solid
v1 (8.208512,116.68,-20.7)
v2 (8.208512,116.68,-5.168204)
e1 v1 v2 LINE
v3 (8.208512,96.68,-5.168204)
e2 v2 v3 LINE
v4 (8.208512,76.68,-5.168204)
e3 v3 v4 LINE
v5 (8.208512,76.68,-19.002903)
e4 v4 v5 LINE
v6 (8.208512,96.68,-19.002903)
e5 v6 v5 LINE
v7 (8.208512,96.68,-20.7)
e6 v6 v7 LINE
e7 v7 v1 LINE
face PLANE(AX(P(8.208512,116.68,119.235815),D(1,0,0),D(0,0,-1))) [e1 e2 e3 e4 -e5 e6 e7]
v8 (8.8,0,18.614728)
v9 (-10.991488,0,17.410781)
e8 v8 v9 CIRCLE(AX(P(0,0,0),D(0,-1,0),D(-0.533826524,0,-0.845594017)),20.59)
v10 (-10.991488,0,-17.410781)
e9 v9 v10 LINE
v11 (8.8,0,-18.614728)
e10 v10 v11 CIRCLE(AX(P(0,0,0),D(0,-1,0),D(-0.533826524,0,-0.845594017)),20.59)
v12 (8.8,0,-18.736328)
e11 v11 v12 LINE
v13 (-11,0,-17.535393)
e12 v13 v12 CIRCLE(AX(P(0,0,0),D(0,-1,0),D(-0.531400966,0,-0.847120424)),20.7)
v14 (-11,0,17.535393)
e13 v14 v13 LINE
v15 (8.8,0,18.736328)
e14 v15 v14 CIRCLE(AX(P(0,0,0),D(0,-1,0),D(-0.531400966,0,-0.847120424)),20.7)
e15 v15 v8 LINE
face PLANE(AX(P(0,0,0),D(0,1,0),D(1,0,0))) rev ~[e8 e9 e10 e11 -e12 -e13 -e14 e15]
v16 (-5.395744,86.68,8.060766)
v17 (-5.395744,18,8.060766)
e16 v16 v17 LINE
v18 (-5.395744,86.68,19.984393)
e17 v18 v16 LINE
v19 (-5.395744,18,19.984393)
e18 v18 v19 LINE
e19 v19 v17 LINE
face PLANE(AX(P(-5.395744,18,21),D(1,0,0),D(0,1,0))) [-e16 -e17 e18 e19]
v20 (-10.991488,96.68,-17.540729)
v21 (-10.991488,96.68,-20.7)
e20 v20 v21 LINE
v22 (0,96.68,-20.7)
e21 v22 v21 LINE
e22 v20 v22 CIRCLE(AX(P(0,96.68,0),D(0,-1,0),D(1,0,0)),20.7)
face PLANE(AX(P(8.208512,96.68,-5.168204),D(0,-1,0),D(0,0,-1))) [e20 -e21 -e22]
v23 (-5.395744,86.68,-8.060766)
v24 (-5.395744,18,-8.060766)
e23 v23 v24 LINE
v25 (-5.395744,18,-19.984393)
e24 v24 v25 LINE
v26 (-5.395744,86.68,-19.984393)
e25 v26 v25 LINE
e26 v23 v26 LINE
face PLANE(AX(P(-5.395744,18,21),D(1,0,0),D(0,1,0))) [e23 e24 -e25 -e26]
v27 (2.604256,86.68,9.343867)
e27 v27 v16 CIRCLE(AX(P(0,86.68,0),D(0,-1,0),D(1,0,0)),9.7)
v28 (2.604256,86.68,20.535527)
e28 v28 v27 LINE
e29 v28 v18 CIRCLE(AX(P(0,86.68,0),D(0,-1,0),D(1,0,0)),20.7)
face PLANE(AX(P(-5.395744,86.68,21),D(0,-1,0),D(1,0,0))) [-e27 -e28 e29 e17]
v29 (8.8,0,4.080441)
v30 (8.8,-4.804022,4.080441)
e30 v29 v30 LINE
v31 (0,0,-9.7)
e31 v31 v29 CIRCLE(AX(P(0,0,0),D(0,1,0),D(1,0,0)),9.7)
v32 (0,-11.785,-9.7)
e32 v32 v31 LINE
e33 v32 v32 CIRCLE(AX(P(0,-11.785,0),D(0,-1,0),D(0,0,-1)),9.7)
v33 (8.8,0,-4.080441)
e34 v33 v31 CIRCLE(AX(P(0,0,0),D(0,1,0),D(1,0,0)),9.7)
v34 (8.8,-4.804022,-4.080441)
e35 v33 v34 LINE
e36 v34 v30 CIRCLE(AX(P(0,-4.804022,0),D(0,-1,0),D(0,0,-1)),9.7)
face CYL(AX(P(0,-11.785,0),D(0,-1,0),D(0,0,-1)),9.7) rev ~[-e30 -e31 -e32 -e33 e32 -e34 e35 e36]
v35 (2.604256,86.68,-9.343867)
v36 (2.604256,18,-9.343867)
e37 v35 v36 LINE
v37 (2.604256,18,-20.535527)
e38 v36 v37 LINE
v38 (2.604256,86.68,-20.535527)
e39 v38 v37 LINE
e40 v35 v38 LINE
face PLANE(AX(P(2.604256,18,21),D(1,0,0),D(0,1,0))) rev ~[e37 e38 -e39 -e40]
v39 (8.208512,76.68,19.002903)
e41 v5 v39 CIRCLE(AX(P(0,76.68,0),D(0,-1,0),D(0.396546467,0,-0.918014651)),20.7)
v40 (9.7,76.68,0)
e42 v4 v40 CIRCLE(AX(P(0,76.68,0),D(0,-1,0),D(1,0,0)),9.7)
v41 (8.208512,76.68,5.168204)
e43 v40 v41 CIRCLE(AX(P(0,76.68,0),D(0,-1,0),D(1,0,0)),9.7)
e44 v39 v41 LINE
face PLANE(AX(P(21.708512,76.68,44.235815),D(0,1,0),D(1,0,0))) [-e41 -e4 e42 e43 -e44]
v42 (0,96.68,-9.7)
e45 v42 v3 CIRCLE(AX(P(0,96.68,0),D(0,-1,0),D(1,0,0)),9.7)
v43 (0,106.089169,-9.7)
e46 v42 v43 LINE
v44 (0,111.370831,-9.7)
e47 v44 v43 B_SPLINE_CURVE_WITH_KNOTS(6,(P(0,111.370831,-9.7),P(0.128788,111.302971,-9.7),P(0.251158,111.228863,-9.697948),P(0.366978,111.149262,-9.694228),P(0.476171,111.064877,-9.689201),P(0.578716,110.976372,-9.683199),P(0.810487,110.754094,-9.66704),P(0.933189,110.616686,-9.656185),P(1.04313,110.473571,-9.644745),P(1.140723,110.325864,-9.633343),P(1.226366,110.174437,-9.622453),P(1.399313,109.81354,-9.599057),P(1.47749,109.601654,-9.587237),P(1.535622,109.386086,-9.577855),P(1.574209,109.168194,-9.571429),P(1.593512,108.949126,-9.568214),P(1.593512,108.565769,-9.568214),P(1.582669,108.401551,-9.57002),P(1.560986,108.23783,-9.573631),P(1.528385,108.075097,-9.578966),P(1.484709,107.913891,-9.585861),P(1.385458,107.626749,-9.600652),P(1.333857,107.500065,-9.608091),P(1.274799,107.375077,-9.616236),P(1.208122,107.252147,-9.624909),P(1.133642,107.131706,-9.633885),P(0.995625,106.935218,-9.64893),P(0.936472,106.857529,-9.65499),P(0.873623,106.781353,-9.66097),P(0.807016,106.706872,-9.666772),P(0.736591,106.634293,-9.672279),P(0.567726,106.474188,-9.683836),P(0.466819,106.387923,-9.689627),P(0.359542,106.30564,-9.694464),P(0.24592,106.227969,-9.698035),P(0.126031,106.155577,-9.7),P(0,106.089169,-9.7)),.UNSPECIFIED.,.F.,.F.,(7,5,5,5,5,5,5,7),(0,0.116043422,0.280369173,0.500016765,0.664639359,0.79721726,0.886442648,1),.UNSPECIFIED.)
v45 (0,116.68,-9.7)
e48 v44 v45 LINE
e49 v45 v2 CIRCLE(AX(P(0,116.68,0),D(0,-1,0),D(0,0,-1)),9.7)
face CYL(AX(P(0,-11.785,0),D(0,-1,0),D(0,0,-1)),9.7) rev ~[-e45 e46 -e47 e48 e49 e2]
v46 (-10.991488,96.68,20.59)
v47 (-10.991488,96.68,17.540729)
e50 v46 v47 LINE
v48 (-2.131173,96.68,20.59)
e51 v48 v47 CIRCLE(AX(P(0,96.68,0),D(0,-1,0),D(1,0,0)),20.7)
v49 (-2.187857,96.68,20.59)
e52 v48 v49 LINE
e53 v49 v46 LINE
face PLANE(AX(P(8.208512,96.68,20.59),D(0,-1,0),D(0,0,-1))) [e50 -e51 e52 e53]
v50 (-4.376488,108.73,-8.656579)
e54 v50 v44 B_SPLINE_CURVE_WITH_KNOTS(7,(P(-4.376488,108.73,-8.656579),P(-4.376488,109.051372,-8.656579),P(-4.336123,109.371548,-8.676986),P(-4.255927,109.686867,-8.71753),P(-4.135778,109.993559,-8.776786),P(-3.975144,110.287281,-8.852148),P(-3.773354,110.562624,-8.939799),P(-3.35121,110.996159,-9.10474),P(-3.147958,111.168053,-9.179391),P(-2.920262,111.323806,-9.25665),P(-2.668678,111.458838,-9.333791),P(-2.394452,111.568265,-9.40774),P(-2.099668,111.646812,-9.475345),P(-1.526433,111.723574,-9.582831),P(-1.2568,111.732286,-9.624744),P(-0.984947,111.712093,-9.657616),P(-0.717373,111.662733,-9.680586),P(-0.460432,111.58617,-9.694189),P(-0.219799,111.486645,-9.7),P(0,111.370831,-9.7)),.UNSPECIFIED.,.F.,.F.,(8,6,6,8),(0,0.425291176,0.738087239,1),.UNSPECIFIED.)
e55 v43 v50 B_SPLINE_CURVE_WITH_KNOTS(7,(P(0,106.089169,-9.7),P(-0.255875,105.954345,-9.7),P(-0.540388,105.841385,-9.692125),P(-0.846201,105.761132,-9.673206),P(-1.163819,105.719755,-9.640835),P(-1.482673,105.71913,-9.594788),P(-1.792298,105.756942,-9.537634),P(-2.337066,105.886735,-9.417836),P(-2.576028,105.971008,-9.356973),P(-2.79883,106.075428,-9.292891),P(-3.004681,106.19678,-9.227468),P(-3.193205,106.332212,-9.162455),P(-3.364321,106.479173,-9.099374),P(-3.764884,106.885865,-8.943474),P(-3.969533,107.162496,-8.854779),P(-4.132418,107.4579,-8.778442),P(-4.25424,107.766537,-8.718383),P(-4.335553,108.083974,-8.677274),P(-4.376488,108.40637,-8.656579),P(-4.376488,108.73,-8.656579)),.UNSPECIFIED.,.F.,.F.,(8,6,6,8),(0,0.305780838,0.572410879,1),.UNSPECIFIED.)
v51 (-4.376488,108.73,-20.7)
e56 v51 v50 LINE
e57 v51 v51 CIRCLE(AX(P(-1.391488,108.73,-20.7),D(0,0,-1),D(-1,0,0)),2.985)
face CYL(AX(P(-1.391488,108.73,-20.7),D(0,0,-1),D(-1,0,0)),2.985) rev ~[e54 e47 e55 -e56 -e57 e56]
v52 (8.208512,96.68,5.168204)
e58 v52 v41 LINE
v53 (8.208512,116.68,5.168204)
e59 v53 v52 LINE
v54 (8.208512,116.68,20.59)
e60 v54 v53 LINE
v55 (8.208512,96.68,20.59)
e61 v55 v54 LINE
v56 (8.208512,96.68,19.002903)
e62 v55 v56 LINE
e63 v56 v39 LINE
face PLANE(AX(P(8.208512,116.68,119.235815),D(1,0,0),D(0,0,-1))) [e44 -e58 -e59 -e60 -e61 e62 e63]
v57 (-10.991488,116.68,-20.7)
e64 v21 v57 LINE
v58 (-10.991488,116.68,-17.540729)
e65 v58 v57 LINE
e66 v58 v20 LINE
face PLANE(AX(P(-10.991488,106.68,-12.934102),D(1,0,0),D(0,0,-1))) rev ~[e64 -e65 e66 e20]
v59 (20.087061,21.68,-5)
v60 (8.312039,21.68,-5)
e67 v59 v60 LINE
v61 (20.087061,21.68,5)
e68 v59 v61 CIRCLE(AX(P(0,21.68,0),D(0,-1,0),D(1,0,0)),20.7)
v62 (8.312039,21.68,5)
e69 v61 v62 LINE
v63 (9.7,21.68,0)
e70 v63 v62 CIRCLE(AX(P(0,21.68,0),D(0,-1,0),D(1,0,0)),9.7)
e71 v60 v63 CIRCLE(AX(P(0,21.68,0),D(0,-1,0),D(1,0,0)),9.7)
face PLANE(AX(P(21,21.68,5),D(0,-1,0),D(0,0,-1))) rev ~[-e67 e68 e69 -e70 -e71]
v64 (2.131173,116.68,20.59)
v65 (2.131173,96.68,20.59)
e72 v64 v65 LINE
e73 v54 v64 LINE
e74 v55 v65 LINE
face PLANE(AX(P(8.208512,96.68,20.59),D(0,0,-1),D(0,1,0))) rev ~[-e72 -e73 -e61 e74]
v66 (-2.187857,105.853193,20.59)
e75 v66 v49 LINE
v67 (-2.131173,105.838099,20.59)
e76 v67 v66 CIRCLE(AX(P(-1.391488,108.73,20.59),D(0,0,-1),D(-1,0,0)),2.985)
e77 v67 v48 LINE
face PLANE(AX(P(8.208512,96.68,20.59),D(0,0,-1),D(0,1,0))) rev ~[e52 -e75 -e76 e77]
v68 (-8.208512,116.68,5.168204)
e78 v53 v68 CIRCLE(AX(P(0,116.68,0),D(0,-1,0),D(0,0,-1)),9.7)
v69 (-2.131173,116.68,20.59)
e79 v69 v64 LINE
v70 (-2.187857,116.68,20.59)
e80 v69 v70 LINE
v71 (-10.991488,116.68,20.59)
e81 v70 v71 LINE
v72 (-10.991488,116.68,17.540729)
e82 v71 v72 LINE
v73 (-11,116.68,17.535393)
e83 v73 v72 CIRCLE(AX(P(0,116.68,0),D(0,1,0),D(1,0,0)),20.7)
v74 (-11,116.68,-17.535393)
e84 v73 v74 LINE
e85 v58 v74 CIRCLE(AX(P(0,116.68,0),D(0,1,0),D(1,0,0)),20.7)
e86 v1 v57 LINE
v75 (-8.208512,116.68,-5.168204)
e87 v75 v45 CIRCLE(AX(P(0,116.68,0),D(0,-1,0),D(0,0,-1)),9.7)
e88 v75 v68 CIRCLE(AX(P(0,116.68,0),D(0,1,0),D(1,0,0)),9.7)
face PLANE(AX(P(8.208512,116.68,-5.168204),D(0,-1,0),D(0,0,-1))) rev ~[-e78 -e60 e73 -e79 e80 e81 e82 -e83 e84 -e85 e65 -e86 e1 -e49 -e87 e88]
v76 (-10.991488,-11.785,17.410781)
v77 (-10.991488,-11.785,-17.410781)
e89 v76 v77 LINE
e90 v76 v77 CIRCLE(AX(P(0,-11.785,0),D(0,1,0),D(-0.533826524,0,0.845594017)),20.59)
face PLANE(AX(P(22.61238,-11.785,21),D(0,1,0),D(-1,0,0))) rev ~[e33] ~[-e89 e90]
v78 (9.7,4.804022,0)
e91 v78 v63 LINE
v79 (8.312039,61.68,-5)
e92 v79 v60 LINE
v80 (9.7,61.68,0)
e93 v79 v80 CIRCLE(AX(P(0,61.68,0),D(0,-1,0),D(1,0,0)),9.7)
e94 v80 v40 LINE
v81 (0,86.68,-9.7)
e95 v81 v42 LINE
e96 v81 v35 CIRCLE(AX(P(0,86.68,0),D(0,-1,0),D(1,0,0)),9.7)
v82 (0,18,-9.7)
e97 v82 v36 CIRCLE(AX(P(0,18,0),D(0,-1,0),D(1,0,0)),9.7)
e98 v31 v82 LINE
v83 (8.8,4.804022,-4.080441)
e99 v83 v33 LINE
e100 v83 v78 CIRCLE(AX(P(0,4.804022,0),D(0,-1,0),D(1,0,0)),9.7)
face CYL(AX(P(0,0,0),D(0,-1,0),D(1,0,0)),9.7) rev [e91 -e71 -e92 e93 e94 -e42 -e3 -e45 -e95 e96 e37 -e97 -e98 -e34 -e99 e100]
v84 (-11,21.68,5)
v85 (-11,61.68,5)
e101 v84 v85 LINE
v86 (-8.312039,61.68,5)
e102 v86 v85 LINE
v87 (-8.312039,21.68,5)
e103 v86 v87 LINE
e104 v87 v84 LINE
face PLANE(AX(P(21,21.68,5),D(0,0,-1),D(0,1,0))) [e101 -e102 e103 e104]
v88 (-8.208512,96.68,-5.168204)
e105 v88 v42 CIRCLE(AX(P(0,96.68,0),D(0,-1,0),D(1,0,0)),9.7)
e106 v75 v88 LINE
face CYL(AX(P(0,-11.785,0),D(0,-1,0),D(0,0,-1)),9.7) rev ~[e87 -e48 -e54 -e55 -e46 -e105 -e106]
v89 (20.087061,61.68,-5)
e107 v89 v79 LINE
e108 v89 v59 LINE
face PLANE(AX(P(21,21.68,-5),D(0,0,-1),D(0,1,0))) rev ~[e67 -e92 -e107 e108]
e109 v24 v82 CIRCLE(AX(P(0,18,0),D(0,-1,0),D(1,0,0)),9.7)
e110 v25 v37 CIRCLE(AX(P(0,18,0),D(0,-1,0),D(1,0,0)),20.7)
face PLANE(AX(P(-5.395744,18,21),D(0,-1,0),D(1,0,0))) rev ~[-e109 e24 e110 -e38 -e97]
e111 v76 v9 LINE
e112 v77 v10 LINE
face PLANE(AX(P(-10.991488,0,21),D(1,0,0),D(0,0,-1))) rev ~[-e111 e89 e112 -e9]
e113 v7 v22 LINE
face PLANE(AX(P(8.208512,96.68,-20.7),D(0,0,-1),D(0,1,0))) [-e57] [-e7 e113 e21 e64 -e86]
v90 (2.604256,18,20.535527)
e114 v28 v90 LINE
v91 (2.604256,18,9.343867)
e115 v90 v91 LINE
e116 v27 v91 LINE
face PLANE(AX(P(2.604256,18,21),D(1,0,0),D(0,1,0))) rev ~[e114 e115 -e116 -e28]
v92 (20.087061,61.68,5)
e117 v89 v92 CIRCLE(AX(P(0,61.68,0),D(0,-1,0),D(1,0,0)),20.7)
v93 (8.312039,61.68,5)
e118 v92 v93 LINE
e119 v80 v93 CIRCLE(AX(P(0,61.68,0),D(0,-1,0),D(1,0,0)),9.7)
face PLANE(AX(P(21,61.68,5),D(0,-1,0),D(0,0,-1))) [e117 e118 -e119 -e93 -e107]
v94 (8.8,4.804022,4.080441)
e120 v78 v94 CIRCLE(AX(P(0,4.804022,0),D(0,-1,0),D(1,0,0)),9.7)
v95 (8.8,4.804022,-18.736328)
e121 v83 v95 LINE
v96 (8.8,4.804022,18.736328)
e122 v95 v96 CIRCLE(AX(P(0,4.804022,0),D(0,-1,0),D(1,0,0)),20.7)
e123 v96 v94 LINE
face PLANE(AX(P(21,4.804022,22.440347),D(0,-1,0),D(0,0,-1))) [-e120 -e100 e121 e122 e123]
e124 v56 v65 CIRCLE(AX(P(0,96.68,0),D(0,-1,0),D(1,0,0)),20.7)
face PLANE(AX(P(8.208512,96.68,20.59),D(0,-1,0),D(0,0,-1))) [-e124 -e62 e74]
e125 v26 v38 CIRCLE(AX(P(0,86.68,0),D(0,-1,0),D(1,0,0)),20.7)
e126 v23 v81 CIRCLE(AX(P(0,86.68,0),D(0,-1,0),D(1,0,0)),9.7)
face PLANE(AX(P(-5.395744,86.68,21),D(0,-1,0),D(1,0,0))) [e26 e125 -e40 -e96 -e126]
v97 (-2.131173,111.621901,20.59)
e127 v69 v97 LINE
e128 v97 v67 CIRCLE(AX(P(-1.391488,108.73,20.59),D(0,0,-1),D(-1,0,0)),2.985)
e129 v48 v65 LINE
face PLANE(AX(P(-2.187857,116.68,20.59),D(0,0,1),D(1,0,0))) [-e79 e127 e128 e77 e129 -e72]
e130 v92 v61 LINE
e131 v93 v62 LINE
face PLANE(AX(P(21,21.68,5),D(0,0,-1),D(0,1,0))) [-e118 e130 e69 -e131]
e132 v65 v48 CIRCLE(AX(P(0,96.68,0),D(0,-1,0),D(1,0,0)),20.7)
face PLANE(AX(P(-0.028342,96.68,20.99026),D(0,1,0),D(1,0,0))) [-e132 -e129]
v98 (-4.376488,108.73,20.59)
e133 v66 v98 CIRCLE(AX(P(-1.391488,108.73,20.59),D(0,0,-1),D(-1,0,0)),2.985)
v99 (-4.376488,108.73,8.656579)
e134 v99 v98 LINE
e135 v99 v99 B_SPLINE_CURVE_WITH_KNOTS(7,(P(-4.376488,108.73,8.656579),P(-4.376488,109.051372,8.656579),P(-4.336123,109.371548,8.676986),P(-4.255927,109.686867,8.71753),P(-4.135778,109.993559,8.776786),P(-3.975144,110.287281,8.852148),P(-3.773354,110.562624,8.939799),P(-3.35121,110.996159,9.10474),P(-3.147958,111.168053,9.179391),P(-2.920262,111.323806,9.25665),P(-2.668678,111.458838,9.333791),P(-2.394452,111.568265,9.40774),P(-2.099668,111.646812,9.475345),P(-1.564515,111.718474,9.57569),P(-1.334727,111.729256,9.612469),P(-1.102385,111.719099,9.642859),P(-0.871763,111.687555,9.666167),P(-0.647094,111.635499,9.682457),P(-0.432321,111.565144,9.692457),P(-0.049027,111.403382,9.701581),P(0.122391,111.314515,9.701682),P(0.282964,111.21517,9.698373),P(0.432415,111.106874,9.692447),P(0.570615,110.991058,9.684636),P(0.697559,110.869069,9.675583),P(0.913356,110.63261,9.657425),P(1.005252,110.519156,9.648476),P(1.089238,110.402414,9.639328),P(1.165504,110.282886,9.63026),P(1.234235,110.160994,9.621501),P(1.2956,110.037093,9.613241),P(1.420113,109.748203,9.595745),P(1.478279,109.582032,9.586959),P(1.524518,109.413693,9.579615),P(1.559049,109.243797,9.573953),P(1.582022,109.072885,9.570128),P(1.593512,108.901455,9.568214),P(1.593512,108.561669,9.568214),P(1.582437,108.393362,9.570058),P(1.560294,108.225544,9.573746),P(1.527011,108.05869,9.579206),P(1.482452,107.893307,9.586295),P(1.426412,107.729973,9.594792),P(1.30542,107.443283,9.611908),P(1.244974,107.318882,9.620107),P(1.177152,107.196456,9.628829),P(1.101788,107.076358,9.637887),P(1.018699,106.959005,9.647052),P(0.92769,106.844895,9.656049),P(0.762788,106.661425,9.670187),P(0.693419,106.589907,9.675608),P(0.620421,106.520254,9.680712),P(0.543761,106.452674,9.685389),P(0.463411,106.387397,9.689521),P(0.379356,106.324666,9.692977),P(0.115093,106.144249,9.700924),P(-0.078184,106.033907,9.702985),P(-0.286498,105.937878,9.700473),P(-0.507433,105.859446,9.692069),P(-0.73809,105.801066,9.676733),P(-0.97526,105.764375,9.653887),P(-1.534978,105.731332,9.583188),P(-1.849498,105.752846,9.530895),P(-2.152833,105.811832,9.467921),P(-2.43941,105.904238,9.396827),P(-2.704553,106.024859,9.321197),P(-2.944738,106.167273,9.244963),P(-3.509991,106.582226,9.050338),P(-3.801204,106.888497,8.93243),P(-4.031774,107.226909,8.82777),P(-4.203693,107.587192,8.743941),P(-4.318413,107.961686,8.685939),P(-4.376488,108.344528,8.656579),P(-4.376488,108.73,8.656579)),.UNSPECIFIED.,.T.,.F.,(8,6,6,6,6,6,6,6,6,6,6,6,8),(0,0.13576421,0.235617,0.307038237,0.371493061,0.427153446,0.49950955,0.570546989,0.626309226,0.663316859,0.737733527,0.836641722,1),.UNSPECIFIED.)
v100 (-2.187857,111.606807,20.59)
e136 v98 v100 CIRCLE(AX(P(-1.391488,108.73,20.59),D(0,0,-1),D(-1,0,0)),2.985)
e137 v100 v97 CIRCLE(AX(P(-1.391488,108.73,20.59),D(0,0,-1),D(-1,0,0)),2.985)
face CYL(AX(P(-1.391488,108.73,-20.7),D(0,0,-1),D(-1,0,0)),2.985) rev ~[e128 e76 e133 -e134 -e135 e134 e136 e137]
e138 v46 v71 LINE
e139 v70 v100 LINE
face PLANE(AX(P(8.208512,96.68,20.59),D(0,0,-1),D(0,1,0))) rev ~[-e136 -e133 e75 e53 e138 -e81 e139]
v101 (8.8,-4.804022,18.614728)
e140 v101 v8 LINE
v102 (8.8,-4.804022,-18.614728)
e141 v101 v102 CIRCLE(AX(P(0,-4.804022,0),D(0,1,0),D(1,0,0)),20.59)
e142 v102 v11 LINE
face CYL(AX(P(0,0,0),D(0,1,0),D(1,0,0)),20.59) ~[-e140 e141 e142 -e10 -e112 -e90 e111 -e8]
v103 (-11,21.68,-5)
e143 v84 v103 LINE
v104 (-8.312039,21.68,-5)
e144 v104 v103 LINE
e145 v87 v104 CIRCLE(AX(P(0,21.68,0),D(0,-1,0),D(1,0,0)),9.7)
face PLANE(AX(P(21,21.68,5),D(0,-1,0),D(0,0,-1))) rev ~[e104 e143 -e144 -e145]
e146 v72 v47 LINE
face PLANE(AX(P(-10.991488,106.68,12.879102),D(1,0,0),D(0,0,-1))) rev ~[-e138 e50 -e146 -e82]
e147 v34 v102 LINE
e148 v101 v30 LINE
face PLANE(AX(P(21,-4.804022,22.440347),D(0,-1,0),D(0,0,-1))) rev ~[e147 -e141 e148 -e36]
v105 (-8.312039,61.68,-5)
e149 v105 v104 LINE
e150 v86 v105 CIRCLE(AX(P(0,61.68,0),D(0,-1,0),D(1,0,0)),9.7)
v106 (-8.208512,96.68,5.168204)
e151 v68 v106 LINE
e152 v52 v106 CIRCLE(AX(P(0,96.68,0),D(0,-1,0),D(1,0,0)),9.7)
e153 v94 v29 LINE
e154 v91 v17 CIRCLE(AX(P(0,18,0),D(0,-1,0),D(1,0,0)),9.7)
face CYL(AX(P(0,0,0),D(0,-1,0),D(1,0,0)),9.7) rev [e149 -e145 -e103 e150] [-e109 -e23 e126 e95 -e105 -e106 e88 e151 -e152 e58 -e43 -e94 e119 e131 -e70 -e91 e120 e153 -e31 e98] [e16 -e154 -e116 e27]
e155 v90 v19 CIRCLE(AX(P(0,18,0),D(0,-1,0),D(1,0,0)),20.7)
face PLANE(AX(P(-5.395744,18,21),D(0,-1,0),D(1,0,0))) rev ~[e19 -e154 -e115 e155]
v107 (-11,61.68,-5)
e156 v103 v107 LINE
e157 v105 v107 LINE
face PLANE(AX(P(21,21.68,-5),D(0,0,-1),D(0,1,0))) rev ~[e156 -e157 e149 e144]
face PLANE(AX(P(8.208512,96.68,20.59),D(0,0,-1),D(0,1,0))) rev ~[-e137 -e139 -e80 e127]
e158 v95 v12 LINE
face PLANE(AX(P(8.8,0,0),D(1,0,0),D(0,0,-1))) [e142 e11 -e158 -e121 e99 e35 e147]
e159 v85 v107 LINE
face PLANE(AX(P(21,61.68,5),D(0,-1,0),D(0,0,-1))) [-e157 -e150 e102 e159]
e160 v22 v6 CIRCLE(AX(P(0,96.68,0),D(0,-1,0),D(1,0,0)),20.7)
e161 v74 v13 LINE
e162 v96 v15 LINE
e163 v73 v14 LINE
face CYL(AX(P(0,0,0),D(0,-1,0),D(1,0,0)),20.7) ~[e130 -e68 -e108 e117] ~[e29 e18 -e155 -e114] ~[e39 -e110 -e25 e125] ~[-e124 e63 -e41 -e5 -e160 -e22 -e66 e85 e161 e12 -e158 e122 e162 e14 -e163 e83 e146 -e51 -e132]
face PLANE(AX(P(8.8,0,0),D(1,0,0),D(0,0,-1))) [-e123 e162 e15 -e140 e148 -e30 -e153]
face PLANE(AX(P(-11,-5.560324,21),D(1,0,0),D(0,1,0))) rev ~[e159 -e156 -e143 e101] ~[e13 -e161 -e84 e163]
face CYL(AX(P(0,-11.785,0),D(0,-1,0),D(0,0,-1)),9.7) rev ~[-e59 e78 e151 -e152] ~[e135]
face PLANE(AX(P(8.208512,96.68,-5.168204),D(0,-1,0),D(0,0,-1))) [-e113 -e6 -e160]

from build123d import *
from build123d.topology import SkipClean

# Parameters (mm, degrees)
SKETCH_1_R           = 20.7
SKETCH_1_R_2         = 9.7
EXTRUDE_1_DEPTH      = 116.68
SKETCH_11_W          = 27
SKETCH_11_H          = 150
CUT_EXTRUDE_3_DEPTH  = 40
SKETCH_13_W          = 10
SKETCH_13_H          = 128.345013401
CUT_EXTRUDE_7_DEPTH  = 126.624847861
SKETCH_15_W          = 8
SKETCH_15_H          = 68.68
CUT_EXTRUDE_9_DEPTH  = 48
SKETCH_16_W          = 15.531795971
SKETCH_16_H          = 20
SKETCH_16_W_2        = 15.421795971
EXTRUDE_4_DEPTH      = 19.2
SKETCH_21_R          = 2.985
CUT_EXTRUDE_12_DEPTH = 55.2
SKETCH_24_R          = 20.59
SKETCH_24_R_2        = 9.59
EXTRUDE_2_DEPTH      = 55.2
CUT_EXTRUDE_13_DEPTH = 55.2
SKETCH_26_W          = 10.00851187
SKETCH_26_H          = 41.7
CUT_EXTRUDE_15_DEPTH = 55.2
SKETCH_27_W          = 10
SKETCH_27_H          = 40
CUT_EXTRUDE_16_DEPTH = 55.2
SKETCH_28_W          = 44.880694938
SKETCH_28_H          = 9.608044066
CUT_EXTRUDE_17_DEPTH = 12.2
CUT_EXTRUDE_START    = -130
SKETCH_63_R          = 9.59
CUT_EXTRUDE_36_DEPTH = 130
SKETCH_64_R          = 9.7
CUT_EXTRUDE_37_DEPTH = 132.758249301
SKETCH_66_W          = 4.319030686
SKETCH_66_H          = 0.800519568
CUT_EXTRUDE_39_DEPTH = 20


with BuildPart() as part:
    # 草圖1 → 伸長-薄件1 (new body)
    with BuildSketch(Plane(origin=(0, 0, 0), x_dir=(1, 0, 0), z_dir=(0, 1, 0))):
        Circle(SKETCH_1_R)
        Circle(SKETCH_1_R_2, mode=Mode.SUBTRACT)
    extrude(amount=EXTRUDE_1_DEPTH)

    # 草圖11 → 除料-伸長3 (cut)
    with BuildSketch(Plane(origin=(0, 116.68, 0), x_dir=(1, 0, 0), z_dir=(0, 1, 0))):
        with Locations((21.70851187, -44.235815192)):
            Rectangle(SKETCH_11_W, SKETCH_11_H)
    extrude(amount=-CUT_EXTRUDE_3_DEPTH, mode=Mode.SUBTRACT)

    # 草圖13 → 除料-伸長7 (cut, through all)
    with BuildSketch(Plane.XY.offset(21)):
        with Locations((-16, 58.612182466)):
            Rectangle(SKETCH_13_W, SKETCH_13_H)
    extrude(amount=-CUT_EXTRUDE_7_DEPTH, mode=Mode.SUBTRACT)

    # 草圖15 → 除料-伸長9 (cut)
    with BuildSketch(Plane.XY.offset(21)):
        with Locations((-1.395744065, 52.34)):
            Rectangle(SKETCH_15_W, SKETCH_15_H)
    extrude(amount=-CUT_EXTRUDE_9_DEPTH, mode=Mode.SUBTRACT)

    # 草圖16 → 填料-伸長4 (add)
    with BuildSketch(Plane(origin=(8.20851187, 0, 0), x_dir=(0, 0, -1), z_dir=(1, 0, 0))):
        with Locations((12.934102015, 106.68)):
            Rectangle(SKETCH_16_W, SKETCH_16_H)
        with Locations((-12.879102014, 106.68)):
            Rectangle(SKETCH_16_W_2, SKETCH_16_H)
    extrude(amount=-EXTRUDE_4_DEPTH)

    # 草圖21 → 除料-伸長12 (cut)
    with BuildSketch(Plane(origin=(0, 0, -20.7), x_dir=(-1, 0, 0), z_dir=(0, 0, -1))):
        with Locations((1.39148813, 108.73)):
            Circle(SKETCH_21_R)
    extrude(amount=-CUT_EXTRUDE_12_DEPTH, mode=Mode.SUBTRACT)

    # 草圖24 → 伸長-薄件2 (add)
    with BuildSketch(Plane.XZ):
        Circle(SKETCH_24_R)
        Circle(SKETCH_24_R_2, mode=Mode.SUBTRACT)
    extrude(amount=EXTRUDE_2_DEPTH)

    # 草圖25 → 除料-伸長13 (cut)
    with BuildSketch(Plane.XY.offset(21)):
        Polygon((-1.39148813, -11.785), (22.612379708, -11.785), (22.612379708, -63.873337429), (-22.749525245, -63.873337429), (-22.749525245, -11.785), align=None)
    extrude(amount=-CUT_EXTRUDE_13_DEPTH, mode=Mode.SUBTRACT)

    # 草圖26 → 除料-伸長15 (cut)
    with BuildSketch(Plane(origin=(0, 0, 0), x_dir=(1, 0, 0), z_dir=(0, 1, 0))):
        with Locations((-15.995744065, -0.15)):
            Rectangle(SKETCH_26_W, SKETCH_26_H)
    extrude(amount=-CUT_EXTRUDE_15_DEPTH, mode=Mode.SUBTRACT)

    # 草圖27 → 除料-伸長16 (cut)
    with BuildSketch(Plane(origin=(21, 0, 0), x_dir=(0, 0, -1), z_dir=(1, 0, 0))):
        with Locations((0, 41.68)):
            Rectangle(SKETCH_27_W, SKETCH_27_H)
    extrude(amount=-CUT_EXTRUDE_16_DEPTH, mode=Mode.SUBTRACT)

    # 草圖28 → 除料-伸長17 (cut)
    with BuildSketch(Plane(origin=(21, 0, 0), x_dir=(0, 0, -1), z_dir=(1, 0, 0))):
        Rectangle(SKETCH_28_W, SKETCH_28_H)
    extrude(amount=-CUT_EXTRUDE_17_DEPTH, mode=Mode.SUBTRACT)

    # 草圖63 → 除料-伸長36 (cut)
    with BuildSketch(Plane.XZ.offset(11.785).offset(CUT_EXTRUDE_START)):
        with Locations(Location((0, 0, 0), (0, 0, 90))):
            Circle(SKETCH_63_R)
    extrude(amount=CUT_EXTRUDE_36_DEPTH, mode=Mode.SUBTRACT)

    # 草圖64 → 除料-伸長37 (cut, through all)
    with SkipClean():  # the faces are left unmerged after this step: merging them gives an invalid solid
        with BuildSketch(Plane.XZ.offset(11.785)):
            with Locations(Location((0, 0, 0), (0, 0, 270))):
                Circle(SKETCH_64_R)
        extrude(amount=-CUT_EXTRUDE_37_DEPTH, mode=Mode.SUBTRACT)

    # 草圖66 → 除料-伸長39 (cut)
    with SkipClean():  # the faces are left unmerged after this step: merging them gives an invalid solid
        with BuildSketch(Plane(origin=(0, 116.68, 0), x_dir=(1, 0, 0), z_dir=(0, 1, 0))):
            with Locations((-0.028341957, -20.990259784)):
                Rectangle(SKETCH_66_W, SKETCH_66_H)
        extrude(amount=-CUT_EXTRUDE_39_DEPTH, mode=Mode.SUBTRACT)


solid = part.part
